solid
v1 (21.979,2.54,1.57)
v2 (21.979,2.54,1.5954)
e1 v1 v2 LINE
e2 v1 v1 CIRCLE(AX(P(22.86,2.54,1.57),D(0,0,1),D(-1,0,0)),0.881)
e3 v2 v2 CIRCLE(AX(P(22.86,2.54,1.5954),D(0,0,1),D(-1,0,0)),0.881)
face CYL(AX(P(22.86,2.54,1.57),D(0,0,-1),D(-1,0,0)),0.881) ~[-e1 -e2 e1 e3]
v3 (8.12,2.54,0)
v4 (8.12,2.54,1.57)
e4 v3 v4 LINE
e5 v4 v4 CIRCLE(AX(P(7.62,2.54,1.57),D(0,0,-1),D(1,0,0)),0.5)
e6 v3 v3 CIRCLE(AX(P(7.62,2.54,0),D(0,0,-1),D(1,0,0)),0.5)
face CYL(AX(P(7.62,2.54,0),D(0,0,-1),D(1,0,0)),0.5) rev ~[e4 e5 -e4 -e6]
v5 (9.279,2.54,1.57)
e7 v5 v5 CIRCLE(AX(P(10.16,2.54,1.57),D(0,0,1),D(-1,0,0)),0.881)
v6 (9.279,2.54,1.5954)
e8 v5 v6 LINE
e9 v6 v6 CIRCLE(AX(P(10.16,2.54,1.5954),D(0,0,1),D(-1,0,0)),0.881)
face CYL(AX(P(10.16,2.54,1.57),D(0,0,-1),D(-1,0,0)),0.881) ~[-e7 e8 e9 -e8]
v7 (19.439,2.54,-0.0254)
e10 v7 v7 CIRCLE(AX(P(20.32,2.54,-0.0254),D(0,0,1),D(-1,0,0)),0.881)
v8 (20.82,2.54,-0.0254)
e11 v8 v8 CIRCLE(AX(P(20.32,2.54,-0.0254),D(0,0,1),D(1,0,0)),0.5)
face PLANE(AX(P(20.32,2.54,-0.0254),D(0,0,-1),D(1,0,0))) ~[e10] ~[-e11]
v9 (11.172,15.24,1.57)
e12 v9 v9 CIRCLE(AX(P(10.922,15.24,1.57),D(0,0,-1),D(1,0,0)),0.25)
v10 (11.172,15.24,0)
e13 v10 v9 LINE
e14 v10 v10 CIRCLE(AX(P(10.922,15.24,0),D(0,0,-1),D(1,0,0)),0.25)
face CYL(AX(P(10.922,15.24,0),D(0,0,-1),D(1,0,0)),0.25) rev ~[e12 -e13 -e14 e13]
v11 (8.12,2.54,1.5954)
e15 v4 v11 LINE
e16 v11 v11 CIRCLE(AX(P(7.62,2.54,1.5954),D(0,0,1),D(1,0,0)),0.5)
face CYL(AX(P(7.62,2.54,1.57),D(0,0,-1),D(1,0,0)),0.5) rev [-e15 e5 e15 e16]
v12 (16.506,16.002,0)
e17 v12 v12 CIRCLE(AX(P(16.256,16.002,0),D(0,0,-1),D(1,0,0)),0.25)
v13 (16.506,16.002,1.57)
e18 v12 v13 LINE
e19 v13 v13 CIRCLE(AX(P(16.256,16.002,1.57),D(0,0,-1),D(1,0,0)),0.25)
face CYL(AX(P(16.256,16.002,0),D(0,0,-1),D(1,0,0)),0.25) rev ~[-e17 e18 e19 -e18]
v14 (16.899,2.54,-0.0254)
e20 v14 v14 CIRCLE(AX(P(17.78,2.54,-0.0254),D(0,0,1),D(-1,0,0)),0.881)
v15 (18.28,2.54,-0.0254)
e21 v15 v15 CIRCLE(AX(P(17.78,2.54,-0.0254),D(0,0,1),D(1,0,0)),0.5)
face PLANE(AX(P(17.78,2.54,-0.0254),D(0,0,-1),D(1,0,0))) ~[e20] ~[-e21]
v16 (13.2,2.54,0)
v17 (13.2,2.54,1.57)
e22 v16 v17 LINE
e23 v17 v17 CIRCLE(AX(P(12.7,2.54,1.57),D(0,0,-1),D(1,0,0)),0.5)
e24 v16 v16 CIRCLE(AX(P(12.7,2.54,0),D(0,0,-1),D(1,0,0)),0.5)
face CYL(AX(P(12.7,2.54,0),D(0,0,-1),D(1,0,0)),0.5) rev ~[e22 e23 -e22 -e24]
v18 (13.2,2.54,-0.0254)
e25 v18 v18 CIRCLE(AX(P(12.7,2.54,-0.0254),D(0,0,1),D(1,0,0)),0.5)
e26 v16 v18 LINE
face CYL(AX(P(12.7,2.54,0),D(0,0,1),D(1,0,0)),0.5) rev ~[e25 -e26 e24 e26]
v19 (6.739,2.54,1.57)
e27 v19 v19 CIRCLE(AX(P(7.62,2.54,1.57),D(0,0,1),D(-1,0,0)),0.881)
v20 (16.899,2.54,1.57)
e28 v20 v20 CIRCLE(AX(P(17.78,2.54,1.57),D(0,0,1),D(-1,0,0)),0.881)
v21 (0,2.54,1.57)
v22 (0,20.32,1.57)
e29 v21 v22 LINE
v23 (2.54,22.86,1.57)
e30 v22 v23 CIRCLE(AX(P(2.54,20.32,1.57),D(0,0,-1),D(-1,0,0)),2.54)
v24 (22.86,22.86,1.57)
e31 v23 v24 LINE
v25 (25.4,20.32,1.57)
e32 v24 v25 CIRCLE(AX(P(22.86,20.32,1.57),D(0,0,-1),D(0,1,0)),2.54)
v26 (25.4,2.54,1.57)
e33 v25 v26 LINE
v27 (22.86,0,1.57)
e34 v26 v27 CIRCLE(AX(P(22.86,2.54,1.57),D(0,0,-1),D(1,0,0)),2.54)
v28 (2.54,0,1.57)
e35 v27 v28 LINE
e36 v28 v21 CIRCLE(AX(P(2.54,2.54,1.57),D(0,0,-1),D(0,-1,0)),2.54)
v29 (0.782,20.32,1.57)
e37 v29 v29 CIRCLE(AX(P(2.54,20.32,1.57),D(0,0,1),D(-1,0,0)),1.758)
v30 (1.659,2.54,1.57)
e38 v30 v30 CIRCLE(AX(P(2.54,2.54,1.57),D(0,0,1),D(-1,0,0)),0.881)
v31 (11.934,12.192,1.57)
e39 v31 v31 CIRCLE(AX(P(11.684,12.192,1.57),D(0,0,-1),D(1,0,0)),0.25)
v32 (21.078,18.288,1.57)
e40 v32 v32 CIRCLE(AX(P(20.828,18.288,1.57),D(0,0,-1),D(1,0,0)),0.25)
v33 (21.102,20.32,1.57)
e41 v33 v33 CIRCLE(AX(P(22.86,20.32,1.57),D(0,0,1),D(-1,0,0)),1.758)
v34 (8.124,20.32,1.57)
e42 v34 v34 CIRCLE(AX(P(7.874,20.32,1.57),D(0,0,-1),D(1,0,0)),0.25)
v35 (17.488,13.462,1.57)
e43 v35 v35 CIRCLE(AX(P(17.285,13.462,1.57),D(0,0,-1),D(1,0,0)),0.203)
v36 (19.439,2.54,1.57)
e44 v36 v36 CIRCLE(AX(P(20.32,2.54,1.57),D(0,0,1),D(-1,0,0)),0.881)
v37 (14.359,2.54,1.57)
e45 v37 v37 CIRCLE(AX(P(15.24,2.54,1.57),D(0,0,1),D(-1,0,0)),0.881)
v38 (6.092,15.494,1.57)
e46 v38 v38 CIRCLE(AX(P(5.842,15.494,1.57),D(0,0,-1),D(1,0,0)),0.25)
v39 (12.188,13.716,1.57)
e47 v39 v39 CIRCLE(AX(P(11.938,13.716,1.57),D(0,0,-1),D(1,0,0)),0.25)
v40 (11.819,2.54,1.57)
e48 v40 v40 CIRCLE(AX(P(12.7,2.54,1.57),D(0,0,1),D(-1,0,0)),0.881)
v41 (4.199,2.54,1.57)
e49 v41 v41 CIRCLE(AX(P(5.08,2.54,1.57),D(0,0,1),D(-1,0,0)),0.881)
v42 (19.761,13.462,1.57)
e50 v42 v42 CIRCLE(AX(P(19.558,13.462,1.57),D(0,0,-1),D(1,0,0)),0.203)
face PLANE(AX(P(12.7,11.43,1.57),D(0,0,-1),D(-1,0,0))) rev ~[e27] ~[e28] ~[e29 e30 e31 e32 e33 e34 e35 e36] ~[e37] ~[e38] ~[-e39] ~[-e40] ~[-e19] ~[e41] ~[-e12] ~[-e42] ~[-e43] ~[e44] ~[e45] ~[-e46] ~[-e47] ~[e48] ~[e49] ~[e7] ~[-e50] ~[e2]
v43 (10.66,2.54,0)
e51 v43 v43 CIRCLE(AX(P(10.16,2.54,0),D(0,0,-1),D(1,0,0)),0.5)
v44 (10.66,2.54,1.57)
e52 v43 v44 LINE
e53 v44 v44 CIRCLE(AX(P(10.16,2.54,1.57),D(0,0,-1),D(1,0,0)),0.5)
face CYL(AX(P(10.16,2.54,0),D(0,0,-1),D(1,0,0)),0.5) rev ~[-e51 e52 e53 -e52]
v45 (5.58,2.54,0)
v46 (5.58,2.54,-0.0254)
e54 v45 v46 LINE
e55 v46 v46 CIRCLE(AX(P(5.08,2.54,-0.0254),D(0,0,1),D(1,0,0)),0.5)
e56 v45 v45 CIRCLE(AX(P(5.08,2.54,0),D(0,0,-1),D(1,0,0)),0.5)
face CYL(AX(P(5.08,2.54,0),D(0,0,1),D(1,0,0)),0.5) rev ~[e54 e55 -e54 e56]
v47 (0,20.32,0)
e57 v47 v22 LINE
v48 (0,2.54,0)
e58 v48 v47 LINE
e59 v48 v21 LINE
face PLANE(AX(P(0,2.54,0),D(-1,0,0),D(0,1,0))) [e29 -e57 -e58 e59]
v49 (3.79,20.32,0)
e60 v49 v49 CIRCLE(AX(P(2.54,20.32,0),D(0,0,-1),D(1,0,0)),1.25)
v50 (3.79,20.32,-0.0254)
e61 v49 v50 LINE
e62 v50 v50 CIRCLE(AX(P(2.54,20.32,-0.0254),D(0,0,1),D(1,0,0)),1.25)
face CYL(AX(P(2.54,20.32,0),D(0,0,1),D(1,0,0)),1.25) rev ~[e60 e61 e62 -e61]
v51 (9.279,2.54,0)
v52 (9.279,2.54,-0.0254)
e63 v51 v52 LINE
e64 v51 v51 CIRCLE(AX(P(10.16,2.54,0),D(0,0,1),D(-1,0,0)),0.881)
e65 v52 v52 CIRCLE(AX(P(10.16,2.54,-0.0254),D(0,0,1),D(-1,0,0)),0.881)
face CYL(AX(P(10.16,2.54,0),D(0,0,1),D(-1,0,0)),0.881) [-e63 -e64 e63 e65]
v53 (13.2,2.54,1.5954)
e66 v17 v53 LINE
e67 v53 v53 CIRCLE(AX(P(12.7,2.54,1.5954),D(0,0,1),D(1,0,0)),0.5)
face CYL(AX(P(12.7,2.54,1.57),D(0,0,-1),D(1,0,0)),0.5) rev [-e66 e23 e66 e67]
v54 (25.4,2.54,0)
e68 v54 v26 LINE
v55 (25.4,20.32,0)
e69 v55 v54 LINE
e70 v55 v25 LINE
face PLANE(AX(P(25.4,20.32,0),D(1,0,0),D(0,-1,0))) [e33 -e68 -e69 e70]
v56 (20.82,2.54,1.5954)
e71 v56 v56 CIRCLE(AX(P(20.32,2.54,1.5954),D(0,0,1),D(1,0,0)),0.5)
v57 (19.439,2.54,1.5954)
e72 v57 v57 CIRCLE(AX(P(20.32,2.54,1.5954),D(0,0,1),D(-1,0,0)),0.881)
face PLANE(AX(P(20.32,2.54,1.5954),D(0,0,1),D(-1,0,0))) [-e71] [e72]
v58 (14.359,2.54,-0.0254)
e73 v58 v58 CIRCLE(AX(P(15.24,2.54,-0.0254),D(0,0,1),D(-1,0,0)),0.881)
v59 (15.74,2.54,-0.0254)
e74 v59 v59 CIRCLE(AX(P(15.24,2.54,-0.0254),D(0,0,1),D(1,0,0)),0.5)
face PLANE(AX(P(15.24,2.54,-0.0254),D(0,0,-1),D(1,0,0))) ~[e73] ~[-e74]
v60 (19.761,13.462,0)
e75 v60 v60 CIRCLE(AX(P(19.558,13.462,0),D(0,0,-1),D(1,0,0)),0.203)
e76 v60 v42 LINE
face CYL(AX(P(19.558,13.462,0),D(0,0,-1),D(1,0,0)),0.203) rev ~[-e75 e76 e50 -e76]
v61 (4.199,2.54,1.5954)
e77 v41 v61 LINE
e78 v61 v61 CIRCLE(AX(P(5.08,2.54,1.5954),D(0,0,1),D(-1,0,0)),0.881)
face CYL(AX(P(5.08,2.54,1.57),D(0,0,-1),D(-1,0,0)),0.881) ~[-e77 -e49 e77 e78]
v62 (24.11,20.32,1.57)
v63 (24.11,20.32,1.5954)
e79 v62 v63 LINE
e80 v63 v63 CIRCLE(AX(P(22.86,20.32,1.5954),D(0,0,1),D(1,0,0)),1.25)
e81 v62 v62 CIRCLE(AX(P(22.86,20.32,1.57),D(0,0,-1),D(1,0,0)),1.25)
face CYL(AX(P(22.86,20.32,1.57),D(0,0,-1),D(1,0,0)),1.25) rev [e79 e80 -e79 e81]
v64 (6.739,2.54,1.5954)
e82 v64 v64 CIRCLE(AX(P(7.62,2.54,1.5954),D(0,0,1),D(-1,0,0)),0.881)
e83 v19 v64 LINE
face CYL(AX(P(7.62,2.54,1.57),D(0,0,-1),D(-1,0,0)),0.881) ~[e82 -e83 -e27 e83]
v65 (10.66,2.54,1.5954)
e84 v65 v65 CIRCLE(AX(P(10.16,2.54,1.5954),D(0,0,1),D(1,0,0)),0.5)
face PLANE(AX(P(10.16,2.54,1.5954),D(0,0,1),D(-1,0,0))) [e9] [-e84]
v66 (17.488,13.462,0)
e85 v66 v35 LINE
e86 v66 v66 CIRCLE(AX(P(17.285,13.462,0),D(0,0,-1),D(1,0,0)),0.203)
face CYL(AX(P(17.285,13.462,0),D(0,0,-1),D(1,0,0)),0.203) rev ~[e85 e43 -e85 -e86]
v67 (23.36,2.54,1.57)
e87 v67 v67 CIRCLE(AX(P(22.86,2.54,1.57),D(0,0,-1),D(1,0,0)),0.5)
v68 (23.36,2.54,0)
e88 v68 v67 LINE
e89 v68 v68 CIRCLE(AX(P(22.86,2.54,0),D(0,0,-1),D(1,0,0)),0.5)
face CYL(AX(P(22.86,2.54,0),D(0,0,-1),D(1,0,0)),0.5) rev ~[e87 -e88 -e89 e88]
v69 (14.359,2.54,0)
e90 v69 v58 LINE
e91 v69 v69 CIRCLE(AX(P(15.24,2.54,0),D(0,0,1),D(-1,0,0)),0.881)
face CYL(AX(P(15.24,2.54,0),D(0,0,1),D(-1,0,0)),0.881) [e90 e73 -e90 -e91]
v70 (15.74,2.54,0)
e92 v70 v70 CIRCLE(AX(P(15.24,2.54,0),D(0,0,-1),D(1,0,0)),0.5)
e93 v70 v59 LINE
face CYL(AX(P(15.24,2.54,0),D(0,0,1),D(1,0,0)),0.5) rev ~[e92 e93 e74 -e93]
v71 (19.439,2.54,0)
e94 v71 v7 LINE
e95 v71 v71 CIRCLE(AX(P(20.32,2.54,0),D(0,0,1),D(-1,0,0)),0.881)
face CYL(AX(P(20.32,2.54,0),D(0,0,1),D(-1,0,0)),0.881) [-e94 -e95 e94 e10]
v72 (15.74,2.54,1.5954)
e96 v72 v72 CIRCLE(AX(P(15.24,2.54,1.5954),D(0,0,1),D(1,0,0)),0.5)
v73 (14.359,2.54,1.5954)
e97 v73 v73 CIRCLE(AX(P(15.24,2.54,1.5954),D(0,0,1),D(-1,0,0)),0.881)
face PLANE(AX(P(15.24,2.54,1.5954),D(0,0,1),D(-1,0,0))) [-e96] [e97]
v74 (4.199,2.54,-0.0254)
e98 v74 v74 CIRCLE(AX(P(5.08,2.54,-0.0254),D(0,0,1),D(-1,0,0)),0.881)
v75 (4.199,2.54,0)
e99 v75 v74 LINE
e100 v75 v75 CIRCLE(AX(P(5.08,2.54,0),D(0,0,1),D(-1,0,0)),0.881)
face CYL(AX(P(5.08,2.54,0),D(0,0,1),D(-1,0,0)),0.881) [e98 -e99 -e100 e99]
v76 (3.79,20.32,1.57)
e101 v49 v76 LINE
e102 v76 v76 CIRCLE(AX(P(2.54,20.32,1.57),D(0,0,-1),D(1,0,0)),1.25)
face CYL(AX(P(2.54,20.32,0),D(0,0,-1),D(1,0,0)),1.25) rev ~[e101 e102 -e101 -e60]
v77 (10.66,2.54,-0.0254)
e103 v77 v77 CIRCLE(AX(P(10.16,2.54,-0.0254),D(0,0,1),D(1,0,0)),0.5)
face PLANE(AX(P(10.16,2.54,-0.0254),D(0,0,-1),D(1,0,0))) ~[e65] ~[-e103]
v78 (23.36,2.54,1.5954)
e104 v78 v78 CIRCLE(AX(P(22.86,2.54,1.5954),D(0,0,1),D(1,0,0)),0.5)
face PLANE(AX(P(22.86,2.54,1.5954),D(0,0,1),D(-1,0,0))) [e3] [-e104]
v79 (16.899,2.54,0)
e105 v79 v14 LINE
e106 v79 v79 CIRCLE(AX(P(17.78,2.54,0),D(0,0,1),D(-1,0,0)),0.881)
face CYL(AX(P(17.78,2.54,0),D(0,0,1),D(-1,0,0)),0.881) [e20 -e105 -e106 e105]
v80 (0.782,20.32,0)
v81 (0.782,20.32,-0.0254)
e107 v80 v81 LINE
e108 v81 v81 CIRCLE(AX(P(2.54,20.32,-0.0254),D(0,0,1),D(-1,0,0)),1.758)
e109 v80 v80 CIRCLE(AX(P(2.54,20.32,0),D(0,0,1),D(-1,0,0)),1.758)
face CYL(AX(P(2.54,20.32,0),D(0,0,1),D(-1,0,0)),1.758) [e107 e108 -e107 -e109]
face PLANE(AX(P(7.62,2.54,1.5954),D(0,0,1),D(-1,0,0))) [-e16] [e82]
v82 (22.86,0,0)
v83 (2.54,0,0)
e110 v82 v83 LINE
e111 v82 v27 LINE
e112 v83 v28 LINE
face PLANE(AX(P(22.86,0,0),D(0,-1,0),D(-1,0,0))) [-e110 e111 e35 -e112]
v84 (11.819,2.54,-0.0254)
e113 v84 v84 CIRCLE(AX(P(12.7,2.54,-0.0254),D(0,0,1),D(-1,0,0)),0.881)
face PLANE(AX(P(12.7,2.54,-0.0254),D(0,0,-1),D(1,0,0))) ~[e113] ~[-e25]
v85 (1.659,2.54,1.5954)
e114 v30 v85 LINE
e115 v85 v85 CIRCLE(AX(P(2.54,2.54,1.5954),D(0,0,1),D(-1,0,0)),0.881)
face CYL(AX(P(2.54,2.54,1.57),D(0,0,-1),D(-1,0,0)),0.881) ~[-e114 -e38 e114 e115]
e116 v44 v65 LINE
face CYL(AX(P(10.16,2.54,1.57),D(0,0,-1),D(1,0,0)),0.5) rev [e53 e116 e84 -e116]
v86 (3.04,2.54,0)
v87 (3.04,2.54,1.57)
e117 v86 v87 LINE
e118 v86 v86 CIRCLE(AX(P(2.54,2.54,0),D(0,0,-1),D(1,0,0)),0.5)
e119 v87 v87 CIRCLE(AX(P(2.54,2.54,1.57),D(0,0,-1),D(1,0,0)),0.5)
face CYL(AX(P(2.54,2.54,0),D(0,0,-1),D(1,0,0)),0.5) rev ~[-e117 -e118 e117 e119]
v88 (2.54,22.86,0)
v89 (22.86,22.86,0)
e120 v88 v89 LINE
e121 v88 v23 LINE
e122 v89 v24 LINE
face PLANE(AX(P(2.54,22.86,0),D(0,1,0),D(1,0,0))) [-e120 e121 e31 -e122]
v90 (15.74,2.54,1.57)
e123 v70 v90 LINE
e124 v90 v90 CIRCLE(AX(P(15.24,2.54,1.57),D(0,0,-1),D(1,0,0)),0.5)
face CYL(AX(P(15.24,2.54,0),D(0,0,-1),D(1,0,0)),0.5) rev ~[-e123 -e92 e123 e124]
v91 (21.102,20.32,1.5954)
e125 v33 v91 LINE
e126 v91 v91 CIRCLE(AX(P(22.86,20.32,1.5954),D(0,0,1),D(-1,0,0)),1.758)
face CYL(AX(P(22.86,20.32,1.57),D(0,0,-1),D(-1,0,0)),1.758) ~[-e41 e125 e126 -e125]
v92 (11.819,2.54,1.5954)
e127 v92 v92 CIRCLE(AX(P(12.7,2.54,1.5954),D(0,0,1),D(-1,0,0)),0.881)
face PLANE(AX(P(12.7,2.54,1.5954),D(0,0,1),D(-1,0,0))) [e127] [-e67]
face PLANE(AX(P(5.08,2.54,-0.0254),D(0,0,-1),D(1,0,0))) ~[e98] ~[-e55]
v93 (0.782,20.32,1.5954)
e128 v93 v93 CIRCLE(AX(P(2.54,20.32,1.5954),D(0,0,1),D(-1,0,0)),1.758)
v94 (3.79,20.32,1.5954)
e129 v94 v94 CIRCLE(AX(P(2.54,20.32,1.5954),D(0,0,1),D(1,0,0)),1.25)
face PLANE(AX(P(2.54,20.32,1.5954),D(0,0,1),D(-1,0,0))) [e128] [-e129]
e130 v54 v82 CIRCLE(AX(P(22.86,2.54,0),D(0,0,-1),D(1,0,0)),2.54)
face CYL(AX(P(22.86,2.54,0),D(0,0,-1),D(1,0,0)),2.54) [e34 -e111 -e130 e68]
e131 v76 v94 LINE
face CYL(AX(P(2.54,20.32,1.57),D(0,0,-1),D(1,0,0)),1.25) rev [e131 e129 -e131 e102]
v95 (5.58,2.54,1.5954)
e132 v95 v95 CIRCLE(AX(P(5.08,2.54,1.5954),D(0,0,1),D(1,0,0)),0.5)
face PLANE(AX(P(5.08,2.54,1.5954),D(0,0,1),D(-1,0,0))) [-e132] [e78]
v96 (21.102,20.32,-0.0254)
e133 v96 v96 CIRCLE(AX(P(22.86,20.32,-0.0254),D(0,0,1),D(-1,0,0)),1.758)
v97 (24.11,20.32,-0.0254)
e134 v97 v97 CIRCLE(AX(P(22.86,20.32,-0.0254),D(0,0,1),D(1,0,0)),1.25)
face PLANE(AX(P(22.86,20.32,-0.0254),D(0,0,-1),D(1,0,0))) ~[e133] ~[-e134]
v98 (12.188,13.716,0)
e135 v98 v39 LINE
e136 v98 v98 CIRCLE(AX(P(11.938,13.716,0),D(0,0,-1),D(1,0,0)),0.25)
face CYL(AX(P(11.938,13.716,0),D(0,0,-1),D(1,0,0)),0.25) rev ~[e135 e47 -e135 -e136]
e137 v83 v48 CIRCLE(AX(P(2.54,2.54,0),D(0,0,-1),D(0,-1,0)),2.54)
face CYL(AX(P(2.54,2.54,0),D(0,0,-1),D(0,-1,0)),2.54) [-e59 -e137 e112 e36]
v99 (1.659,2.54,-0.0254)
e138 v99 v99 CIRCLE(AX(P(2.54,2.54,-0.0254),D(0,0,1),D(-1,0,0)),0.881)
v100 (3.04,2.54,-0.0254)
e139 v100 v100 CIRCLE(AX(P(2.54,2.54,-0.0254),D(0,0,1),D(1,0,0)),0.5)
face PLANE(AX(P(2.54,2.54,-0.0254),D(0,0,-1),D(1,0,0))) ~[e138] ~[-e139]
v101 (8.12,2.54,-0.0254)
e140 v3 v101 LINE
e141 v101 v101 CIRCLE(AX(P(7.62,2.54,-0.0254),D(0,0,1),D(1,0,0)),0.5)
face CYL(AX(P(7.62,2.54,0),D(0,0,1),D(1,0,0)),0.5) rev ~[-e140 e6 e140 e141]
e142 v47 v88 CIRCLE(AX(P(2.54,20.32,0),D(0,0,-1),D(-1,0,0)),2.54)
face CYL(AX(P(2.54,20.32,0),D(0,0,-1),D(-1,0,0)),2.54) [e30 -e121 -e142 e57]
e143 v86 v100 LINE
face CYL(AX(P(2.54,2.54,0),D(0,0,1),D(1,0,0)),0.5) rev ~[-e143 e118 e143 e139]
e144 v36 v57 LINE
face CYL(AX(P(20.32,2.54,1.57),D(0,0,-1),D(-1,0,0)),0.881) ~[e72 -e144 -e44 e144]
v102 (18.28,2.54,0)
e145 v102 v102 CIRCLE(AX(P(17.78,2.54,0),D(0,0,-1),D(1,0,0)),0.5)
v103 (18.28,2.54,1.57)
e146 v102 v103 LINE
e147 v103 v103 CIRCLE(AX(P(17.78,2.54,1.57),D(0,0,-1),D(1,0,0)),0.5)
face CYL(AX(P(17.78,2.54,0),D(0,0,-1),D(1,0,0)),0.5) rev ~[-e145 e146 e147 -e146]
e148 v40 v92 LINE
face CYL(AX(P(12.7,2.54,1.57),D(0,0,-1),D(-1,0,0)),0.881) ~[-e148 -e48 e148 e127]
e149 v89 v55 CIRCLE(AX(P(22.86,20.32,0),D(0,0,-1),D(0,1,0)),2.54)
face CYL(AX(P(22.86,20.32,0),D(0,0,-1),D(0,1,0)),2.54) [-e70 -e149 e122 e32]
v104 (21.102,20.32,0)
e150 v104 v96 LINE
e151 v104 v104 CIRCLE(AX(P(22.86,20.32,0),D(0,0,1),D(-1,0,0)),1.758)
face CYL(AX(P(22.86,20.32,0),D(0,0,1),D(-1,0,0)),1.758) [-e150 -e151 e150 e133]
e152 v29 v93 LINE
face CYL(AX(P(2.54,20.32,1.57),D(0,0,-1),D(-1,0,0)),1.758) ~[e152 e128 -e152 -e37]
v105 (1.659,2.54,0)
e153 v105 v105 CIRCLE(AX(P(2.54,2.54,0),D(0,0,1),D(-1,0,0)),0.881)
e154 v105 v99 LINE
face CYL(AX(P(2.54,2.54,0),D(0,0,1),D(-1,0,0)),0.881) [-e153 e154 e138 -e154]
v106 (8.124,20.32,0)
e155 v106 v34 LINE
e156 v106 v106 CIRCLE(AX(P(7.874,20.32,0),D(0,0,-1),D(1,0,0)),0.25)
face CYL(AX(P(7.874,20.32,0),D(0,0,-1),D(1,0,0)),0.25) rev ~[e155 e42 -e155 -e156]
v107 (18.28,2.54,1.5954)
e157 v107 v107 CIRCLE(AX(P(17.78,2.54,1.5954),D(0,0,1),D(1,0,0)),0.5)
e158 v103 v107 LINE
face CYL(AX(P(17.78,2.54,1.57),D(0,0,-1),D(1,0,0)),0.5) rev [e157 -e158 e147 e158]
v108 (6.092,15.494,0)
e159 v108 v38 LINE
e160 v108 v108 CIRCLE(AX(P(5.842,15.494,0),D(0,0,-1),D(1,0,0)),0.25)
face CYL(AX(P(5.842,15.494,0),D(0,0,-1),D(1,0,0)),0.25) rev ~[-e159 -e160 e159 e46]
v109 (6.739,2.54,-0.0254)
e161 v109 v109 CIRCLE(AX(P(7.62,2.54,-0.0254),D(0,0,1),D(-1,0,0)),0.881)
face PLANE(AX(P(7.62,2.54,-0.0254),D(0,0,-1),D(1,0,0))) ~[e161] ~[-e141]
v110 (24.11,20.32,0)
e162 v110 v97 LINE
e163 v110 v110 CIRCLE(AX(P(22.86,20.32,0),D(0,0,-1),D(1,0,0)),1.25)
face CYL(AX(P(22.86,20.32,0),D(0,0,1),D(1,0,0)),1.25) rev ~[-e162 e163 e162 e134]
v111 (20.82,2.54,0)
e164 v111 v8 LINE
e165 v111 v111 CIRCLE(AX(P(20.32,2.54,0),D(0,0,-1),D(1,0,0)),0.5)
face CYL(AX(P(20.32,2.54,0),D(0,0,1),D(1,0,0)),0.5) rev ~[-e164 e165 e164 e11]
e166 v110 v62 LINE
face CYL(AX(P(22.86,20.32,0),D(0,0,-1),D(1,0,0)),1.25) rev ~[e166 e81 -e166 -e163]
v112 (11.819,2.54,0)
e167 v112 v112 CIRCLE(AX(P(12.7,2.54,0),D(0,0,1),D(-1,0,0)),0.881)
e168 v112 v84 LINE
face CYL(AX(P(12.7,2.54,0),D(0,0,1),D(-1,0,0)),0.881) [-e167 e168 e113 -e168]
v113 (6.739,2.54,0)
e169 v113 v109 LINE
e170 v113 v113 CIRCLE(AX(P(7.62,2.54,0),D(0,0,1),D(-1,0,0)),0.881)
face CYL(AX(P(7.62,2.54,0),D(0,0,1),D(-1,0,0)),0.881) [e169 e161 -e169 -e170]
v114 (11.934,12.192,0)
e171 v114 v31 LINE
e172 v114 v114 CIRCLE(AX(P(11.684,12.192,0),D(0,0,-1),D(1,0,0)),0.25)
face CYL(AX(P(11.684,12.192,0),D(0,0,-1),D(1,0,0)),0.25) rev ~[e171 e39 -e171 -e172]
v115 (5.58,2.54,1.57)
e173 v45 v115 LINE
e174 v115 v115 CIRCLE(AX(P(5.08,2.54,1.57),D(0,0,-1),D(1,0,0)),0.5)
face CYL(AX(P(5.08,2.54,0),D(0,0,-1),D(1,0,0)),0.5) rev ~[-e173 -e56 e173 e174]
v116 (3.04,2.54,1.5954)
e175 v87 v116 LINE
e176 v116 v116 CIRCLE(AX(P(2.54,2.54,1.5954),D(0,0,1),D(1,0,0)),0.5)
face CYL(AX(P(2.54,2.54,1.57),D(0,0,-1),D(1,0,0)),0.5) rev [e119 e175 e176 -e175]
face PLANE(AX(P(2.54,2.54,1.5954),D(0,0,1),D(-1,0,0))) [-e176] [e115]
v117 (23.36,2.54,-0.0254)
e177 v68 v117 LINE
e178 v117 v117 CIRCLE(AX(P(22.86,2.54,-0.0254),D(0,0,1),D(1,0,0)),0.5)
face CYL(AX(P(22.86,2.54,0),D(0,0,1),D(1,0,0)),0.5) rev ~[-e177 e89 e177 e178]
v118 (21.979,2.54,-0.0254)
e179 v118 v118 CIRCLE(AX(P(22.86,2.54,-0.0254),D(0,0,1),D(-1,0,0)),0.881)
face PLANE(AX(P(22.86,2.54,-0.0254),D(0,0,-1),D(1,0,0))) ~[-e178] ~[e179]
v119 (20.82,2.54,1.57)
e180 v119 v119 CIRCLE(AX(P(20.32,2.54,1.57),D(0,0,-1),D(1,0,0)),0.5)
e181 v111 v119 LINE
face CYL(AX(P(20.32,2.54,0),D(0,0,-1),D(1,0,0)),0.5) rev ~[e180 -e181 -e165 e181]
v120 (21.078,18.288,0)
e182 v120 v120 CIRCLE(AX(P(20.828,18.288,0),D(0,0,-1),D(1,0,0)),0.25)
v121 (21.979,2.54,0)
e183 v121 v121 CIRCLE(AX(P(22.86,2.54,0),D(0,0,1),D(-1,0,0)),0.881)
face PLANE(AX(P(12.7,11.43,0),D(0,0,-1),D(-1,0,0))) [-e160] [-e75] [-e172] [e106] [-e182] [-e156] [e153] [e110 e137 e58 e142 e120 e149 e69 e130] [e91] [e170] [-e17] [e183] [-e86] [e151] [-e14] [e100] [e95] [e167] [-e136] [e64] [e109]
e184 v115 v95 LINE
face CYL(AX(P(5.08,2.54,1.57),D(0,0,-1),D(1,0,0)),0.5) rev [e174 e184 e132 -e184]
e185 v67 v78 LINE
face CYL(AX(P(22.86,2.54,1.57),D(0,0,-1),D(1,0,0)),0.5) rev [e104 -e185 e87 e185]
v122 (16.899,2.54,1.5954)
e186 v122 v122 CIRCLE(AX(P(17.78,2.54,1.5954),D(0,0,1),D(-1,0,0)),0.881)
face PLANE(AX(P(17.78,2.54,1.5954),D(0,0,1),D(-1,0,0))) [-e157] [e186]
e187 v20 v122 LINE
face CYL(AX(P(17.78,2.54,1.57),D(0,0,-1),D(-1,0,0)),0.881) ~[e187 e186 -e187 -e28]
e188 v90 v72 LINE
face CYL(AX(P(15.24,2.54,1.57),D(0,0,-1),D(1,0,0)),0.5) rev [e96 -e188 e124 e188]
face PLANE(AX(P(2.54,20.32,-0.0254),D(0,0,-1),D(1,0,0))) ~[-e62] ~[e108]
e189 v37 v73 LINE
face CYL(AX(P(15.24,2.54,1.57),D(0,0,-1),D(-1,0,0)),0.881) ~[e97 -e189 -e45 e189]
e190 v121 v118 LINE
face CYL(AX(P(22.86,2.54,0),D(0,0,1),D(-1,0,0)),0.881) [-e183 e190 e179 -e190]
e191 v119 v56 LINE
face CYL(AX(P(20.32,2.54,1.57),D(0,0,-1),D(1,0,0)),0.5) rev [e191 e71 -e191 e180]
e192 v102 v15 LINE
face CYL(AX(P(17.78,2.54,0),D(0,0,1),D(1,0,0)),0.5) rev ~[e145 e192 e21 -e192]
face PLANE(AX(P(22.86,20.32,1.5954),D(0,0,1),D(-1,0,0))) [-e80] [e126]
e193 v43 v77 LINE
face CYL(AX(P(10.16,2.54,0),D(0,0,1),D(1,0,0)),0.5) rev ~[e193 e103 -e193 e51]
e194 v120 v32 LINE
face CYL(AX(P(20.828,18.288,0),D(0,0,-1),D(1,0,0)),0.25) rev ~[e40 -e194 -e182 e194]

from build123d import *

# Parameters (mm, degrees)
SKETCH1_R           = 0.5
SKETCH1_R_2         = 0.25
SKETCH1_R_3         = 0.203
SKETCH1_R_4         = 1.25
BOSS_EXTRUDE1_DEPTH = 1.57
SKETCH2_R           = 1.758
SKETCH2_R_2         = 1.25
BOSS_EXTRUDE2_DEPTH = 0.0254
SKETCH3_R           = 0.881
SKETCH3_R_2         = 0.5
BOSS_EXTRUDE3_DEPTH = 0.0254


with BuildPart() as part:
    # Sketch1 → Boss-Extrude1 (new body)
    with BuildSketch(Plane(origin=(0, 0, 0), x_dir=(-1, 0, 0), z_dir=(0, 0, -1))):
        with BuildLine():
            Line((-22.86, 0), (-2.54, 0))
            ThreePointArc((-2.54, 0), (-0.743948776, 0.743948776), (0, 2.54))
            Line((0, 2.54), (0, 20.32))
            ThreePointArc((0, 20.32), (-0.743948776, 22.116051224), (-2.54, 22.86))
            Line((-2.54, 22.86), (-22.86, 22.86))
            ThreePointArc((-22.86, 22.86), (-24.656051224, 22.116051224), (-25.4, 20.32))
            Line((-25.4, 20.32), (-25.4, 2.54))
            ThreePointArc((-25.4, 2.54), (-24.656051224, 0.743948776), (-22.86, 0))
        make_face()
        with Locations(Location((-22.86, 2.54, 0), (0, 0, 180))):
            Circle(SKETCH1_R, mode=Mode.SUBTRACT)
        with Locations(Location((-17.78, 2.54, 0), (0, 0, 180))):
            Circle(SKETCH1_R, mode=Mode.SUBTRACT)
        with Locations(Location((-12.7, 2.54, 0), (0, 0, 180))):
            Circle(SKETCH1_R, mode=Mode.SUBTRACT)
        with Locations(Location((-7.62, 2.54, 0), (0, 0, 180))):
            Circle(SKETCH1_R, mode=Mode.SUBTRACT)
        with Locations(Location((-2.54, 2.54, 0), (0, 0, 180))):
            Circle(SKETCH1_R, mode=Mode.SUBTRACT)
        with Locations(Location((-7.874, 20.32, 0), (0, 0, 180))):
            Circle(SKETCH1_R_2, mode=Mode.SUBTRACT)
        with Locations(Location((-10.922, 15.24, 0), (0, 0, 180))):
            Circle(SKETCH1_R_2, mode=Mode.SUBTRACT)
        with Locations(Location((-11.684, 12.192, 0), (0, 0, 180))):
            Circle(SKETCH1_R_2, mode=Mode.SUBTRACT)
        with Locations(Location((-17.285, 13.462, 0), (0, 0, 180))):
            Circle(SKETCH1_R_3, mode=Mode.SUBTRACT)
        with Locations(Location((-20.828, 18.288, 0), (0, 0, 180))):
            Circle(SKETCH1_R_2, mode=Mode.SUBTRACT)
        with Locations(Location((-5.842, 15.494, 0), (0, 0, 180))):
            Circle(SKETCH1_R_2, mode=Mode.SUBTRACT)
        with Locations(Location((-16.256, 16.002, 0), (0, 0, 180))):
            Circle(SKETCH1_R_2, mode=Mode.SUBTRACT)
        with Locations(Location((-19.558, 13.462, 0), (0, 0, 180))):
            Circle(SKETCH1_R_3, mode=Mode.SUBTRACT)
        with Locations(Location((-11.938, 13.716, 0), (0, 0, 180))):
            Circle(SKETCH1_R_2, mode=Mode.SUBTRACT)
        with Locations(Location((-2.54, 20.32, 0), (0, 0, 180))):
            Circle(SKETCH1_R_4, mode=Mode.SUBTRACT)
        with Locations(Location((-22.86, 20.32, 0), (0, 0, 180))):
            Circle(SKETCH1_R_4, mode=Mode.SUBTRACT)
        with Locations(Location((-5.08, 2.54, 0), (0, 0, 180))):
            Circle(SKETCH1_R, mode=Mode.SUBTRACT)
        with Locations(Location((-10.16, 2.54, 0), (0, 0, 180))):
            Circle(SKETCH1_R, mode=Mode.SUBTRACT)
        with Locations(Location((-15.24, 2.54, 0), (0, 0, 180))):
            Circle(SKETCH1_R, mode=Mode.SUBTRACT)
        with Locations(Location((-20.32, 2.54, 0), (0, 0, 180))):
            Circle(SKETCH1_R, mode=Mode.SUBTRACT)
    extrude(amount=-BOSS_EXTRUDE1_DEPTH)

    # Sketch2 → Boss-Extrude2 (add)
    # profile 1 of 2: a face of its own
    with BuildSketch(Plane.XY.offset(1.57)):
        with Locations(Location((2.54, 20.32, 0), (0, 0, 180))):
            Circle(SKETCH2_R)
        with Locations((2.54, 20.32)):
            Circle(SKETCH2_R_2, mode=Mode.SUBTRACT)
    # profile 2 of 2: a face of its own
    with BuildSketch(Plane.XY.offset(1.57)):
        with Locations(Location((22.86, 20.32, 0), (0, 0, 180))):
            Circle(SKETCH2_R)
        with Locations((22.86, 20.32)):
            Circle(SKETCH2_R_2, mode=Mode.SUBTRACT)
    boss_extrude2 = extrude(amount=BOSS_EXTRUDE2_DEPTH)

    # Mirror1: Boss-Extrude2 across plane
    add(boss_extrude2.mirror(Plane.XY.offset(0.785)))

    # Sketch3 → Boss-Extrude3 (add)
    # profile 1 of 9: a face of its own
    with BuildSketch(Plane.XY.offset(1.57)):
        with Locations(Location((2.54, 2.54, 0), (0, 0, 180))):
            Circle(SKETCH3_R)
        with Locations((2.54, 2.54)):
            Circle(SKETCH3_R_2, mode=Mode.SUBTRACT)
    # profile 2 of 9: a face of its own
    with BuildSketch(Plane.XY.offset(1.57)):
        with Locations(Location((5.08, 2.54, 0), (0, 0, 180))):
            Circle(SKETCH3_R)
        with Locations((5.08, 2.54)):
            Circle(SKETCH3_R_2, mode=Mode.SUBTRACT)
    # profile 3 of 9: a face of its own
    with BuildSketch(Plane.XY.offset(1.57)):
        with Locations(Location((7.62, 2.54, 0), (0, 0, 180))):
            Circle(SKETCH3_R)
        with Locations((7.62, 2.54)):
            Circle(SKETCH3_R_2, mode=Mode.SUBTRACT)
    # profile 4 of 9: a face of its own
    with BuildSketch(Plane.XY.offset(1.57)):
        with Locations(Location((10.16, 2.54, 0), (0, 0, 180))):
            Circle(SKETCH3_R)
        with Locations((10.16, 2.54)):
            Circle(SKETCH3_R_2, mode=Mode.SUBTRACT)
    # profile 5 of 9: a face of its own
    with BuildSketch(Plane.XY.offset(1.57)):
        with Locations(Location((12.7, 2.54, 0), (0, 0, 180))):
            Circle(SKETCH3_R)
        with Locations((12.7, 2.54)):
            Circle(SKETCH3_R_2, mode=Mode.SUBTRACT)
    # profile 6 of 9: a face of its own
    with BuildSketch(Plane.XY.offset(1.57)):
        with Locations(Location((15.24, 2.54, 0), (0, 0, 180))):
            Circle(SKETCH3_R)
        with Locations((15.24, 2.54)):
            Circle(SKETCH3_R_2, mode=Mode.SUBTRACT)
    # profile 7 of 9: a face of its own
    with BuildSketch(Plane.XY.offset(1.57)):
        with Locations(Location((17.78, 2.54, 0), (0, 0, 180))):
            Circle(SKETCH3_R)
        with Locations((17.78, 2.54)):
            Circle(SKETCH3_R_2, mode=Mode.SUBTRACT)
    # profile 8 of 9: a face of its own
    with BuildSketch(Plane.XY.offset(1.57)):
        with Locations(Location((20.32, 2.54, 0), (0, 0, 180))):
            Circle(SKETCH3_R)
        with Locations((20.32, 2.54)):
            Circle(SKETCH3_R_2, mode=Mode.SUBTRACT)
    # profile 9 of 9: a face of its own
    with BuildSketch(Plane.XY.offset(1.57)):
        with Locations(Location((22.86, 2.54, 0), (0, 0, 180))):
            Circle(SKETCH3_R)
        with Locations((22.86, 2.54)):
            Circle(SKETCH3_R_2, mode=Mode.SUBTRACT)
    boss_extrude3 = extrude(amount=BOSS_EXTRUDE3_DEPTH)

    # Mirror2: Boss-Extrude3 across plane
    add(boss_extrude3.mirror(Plane.XY.offset(0.785)))


solid = part.part
